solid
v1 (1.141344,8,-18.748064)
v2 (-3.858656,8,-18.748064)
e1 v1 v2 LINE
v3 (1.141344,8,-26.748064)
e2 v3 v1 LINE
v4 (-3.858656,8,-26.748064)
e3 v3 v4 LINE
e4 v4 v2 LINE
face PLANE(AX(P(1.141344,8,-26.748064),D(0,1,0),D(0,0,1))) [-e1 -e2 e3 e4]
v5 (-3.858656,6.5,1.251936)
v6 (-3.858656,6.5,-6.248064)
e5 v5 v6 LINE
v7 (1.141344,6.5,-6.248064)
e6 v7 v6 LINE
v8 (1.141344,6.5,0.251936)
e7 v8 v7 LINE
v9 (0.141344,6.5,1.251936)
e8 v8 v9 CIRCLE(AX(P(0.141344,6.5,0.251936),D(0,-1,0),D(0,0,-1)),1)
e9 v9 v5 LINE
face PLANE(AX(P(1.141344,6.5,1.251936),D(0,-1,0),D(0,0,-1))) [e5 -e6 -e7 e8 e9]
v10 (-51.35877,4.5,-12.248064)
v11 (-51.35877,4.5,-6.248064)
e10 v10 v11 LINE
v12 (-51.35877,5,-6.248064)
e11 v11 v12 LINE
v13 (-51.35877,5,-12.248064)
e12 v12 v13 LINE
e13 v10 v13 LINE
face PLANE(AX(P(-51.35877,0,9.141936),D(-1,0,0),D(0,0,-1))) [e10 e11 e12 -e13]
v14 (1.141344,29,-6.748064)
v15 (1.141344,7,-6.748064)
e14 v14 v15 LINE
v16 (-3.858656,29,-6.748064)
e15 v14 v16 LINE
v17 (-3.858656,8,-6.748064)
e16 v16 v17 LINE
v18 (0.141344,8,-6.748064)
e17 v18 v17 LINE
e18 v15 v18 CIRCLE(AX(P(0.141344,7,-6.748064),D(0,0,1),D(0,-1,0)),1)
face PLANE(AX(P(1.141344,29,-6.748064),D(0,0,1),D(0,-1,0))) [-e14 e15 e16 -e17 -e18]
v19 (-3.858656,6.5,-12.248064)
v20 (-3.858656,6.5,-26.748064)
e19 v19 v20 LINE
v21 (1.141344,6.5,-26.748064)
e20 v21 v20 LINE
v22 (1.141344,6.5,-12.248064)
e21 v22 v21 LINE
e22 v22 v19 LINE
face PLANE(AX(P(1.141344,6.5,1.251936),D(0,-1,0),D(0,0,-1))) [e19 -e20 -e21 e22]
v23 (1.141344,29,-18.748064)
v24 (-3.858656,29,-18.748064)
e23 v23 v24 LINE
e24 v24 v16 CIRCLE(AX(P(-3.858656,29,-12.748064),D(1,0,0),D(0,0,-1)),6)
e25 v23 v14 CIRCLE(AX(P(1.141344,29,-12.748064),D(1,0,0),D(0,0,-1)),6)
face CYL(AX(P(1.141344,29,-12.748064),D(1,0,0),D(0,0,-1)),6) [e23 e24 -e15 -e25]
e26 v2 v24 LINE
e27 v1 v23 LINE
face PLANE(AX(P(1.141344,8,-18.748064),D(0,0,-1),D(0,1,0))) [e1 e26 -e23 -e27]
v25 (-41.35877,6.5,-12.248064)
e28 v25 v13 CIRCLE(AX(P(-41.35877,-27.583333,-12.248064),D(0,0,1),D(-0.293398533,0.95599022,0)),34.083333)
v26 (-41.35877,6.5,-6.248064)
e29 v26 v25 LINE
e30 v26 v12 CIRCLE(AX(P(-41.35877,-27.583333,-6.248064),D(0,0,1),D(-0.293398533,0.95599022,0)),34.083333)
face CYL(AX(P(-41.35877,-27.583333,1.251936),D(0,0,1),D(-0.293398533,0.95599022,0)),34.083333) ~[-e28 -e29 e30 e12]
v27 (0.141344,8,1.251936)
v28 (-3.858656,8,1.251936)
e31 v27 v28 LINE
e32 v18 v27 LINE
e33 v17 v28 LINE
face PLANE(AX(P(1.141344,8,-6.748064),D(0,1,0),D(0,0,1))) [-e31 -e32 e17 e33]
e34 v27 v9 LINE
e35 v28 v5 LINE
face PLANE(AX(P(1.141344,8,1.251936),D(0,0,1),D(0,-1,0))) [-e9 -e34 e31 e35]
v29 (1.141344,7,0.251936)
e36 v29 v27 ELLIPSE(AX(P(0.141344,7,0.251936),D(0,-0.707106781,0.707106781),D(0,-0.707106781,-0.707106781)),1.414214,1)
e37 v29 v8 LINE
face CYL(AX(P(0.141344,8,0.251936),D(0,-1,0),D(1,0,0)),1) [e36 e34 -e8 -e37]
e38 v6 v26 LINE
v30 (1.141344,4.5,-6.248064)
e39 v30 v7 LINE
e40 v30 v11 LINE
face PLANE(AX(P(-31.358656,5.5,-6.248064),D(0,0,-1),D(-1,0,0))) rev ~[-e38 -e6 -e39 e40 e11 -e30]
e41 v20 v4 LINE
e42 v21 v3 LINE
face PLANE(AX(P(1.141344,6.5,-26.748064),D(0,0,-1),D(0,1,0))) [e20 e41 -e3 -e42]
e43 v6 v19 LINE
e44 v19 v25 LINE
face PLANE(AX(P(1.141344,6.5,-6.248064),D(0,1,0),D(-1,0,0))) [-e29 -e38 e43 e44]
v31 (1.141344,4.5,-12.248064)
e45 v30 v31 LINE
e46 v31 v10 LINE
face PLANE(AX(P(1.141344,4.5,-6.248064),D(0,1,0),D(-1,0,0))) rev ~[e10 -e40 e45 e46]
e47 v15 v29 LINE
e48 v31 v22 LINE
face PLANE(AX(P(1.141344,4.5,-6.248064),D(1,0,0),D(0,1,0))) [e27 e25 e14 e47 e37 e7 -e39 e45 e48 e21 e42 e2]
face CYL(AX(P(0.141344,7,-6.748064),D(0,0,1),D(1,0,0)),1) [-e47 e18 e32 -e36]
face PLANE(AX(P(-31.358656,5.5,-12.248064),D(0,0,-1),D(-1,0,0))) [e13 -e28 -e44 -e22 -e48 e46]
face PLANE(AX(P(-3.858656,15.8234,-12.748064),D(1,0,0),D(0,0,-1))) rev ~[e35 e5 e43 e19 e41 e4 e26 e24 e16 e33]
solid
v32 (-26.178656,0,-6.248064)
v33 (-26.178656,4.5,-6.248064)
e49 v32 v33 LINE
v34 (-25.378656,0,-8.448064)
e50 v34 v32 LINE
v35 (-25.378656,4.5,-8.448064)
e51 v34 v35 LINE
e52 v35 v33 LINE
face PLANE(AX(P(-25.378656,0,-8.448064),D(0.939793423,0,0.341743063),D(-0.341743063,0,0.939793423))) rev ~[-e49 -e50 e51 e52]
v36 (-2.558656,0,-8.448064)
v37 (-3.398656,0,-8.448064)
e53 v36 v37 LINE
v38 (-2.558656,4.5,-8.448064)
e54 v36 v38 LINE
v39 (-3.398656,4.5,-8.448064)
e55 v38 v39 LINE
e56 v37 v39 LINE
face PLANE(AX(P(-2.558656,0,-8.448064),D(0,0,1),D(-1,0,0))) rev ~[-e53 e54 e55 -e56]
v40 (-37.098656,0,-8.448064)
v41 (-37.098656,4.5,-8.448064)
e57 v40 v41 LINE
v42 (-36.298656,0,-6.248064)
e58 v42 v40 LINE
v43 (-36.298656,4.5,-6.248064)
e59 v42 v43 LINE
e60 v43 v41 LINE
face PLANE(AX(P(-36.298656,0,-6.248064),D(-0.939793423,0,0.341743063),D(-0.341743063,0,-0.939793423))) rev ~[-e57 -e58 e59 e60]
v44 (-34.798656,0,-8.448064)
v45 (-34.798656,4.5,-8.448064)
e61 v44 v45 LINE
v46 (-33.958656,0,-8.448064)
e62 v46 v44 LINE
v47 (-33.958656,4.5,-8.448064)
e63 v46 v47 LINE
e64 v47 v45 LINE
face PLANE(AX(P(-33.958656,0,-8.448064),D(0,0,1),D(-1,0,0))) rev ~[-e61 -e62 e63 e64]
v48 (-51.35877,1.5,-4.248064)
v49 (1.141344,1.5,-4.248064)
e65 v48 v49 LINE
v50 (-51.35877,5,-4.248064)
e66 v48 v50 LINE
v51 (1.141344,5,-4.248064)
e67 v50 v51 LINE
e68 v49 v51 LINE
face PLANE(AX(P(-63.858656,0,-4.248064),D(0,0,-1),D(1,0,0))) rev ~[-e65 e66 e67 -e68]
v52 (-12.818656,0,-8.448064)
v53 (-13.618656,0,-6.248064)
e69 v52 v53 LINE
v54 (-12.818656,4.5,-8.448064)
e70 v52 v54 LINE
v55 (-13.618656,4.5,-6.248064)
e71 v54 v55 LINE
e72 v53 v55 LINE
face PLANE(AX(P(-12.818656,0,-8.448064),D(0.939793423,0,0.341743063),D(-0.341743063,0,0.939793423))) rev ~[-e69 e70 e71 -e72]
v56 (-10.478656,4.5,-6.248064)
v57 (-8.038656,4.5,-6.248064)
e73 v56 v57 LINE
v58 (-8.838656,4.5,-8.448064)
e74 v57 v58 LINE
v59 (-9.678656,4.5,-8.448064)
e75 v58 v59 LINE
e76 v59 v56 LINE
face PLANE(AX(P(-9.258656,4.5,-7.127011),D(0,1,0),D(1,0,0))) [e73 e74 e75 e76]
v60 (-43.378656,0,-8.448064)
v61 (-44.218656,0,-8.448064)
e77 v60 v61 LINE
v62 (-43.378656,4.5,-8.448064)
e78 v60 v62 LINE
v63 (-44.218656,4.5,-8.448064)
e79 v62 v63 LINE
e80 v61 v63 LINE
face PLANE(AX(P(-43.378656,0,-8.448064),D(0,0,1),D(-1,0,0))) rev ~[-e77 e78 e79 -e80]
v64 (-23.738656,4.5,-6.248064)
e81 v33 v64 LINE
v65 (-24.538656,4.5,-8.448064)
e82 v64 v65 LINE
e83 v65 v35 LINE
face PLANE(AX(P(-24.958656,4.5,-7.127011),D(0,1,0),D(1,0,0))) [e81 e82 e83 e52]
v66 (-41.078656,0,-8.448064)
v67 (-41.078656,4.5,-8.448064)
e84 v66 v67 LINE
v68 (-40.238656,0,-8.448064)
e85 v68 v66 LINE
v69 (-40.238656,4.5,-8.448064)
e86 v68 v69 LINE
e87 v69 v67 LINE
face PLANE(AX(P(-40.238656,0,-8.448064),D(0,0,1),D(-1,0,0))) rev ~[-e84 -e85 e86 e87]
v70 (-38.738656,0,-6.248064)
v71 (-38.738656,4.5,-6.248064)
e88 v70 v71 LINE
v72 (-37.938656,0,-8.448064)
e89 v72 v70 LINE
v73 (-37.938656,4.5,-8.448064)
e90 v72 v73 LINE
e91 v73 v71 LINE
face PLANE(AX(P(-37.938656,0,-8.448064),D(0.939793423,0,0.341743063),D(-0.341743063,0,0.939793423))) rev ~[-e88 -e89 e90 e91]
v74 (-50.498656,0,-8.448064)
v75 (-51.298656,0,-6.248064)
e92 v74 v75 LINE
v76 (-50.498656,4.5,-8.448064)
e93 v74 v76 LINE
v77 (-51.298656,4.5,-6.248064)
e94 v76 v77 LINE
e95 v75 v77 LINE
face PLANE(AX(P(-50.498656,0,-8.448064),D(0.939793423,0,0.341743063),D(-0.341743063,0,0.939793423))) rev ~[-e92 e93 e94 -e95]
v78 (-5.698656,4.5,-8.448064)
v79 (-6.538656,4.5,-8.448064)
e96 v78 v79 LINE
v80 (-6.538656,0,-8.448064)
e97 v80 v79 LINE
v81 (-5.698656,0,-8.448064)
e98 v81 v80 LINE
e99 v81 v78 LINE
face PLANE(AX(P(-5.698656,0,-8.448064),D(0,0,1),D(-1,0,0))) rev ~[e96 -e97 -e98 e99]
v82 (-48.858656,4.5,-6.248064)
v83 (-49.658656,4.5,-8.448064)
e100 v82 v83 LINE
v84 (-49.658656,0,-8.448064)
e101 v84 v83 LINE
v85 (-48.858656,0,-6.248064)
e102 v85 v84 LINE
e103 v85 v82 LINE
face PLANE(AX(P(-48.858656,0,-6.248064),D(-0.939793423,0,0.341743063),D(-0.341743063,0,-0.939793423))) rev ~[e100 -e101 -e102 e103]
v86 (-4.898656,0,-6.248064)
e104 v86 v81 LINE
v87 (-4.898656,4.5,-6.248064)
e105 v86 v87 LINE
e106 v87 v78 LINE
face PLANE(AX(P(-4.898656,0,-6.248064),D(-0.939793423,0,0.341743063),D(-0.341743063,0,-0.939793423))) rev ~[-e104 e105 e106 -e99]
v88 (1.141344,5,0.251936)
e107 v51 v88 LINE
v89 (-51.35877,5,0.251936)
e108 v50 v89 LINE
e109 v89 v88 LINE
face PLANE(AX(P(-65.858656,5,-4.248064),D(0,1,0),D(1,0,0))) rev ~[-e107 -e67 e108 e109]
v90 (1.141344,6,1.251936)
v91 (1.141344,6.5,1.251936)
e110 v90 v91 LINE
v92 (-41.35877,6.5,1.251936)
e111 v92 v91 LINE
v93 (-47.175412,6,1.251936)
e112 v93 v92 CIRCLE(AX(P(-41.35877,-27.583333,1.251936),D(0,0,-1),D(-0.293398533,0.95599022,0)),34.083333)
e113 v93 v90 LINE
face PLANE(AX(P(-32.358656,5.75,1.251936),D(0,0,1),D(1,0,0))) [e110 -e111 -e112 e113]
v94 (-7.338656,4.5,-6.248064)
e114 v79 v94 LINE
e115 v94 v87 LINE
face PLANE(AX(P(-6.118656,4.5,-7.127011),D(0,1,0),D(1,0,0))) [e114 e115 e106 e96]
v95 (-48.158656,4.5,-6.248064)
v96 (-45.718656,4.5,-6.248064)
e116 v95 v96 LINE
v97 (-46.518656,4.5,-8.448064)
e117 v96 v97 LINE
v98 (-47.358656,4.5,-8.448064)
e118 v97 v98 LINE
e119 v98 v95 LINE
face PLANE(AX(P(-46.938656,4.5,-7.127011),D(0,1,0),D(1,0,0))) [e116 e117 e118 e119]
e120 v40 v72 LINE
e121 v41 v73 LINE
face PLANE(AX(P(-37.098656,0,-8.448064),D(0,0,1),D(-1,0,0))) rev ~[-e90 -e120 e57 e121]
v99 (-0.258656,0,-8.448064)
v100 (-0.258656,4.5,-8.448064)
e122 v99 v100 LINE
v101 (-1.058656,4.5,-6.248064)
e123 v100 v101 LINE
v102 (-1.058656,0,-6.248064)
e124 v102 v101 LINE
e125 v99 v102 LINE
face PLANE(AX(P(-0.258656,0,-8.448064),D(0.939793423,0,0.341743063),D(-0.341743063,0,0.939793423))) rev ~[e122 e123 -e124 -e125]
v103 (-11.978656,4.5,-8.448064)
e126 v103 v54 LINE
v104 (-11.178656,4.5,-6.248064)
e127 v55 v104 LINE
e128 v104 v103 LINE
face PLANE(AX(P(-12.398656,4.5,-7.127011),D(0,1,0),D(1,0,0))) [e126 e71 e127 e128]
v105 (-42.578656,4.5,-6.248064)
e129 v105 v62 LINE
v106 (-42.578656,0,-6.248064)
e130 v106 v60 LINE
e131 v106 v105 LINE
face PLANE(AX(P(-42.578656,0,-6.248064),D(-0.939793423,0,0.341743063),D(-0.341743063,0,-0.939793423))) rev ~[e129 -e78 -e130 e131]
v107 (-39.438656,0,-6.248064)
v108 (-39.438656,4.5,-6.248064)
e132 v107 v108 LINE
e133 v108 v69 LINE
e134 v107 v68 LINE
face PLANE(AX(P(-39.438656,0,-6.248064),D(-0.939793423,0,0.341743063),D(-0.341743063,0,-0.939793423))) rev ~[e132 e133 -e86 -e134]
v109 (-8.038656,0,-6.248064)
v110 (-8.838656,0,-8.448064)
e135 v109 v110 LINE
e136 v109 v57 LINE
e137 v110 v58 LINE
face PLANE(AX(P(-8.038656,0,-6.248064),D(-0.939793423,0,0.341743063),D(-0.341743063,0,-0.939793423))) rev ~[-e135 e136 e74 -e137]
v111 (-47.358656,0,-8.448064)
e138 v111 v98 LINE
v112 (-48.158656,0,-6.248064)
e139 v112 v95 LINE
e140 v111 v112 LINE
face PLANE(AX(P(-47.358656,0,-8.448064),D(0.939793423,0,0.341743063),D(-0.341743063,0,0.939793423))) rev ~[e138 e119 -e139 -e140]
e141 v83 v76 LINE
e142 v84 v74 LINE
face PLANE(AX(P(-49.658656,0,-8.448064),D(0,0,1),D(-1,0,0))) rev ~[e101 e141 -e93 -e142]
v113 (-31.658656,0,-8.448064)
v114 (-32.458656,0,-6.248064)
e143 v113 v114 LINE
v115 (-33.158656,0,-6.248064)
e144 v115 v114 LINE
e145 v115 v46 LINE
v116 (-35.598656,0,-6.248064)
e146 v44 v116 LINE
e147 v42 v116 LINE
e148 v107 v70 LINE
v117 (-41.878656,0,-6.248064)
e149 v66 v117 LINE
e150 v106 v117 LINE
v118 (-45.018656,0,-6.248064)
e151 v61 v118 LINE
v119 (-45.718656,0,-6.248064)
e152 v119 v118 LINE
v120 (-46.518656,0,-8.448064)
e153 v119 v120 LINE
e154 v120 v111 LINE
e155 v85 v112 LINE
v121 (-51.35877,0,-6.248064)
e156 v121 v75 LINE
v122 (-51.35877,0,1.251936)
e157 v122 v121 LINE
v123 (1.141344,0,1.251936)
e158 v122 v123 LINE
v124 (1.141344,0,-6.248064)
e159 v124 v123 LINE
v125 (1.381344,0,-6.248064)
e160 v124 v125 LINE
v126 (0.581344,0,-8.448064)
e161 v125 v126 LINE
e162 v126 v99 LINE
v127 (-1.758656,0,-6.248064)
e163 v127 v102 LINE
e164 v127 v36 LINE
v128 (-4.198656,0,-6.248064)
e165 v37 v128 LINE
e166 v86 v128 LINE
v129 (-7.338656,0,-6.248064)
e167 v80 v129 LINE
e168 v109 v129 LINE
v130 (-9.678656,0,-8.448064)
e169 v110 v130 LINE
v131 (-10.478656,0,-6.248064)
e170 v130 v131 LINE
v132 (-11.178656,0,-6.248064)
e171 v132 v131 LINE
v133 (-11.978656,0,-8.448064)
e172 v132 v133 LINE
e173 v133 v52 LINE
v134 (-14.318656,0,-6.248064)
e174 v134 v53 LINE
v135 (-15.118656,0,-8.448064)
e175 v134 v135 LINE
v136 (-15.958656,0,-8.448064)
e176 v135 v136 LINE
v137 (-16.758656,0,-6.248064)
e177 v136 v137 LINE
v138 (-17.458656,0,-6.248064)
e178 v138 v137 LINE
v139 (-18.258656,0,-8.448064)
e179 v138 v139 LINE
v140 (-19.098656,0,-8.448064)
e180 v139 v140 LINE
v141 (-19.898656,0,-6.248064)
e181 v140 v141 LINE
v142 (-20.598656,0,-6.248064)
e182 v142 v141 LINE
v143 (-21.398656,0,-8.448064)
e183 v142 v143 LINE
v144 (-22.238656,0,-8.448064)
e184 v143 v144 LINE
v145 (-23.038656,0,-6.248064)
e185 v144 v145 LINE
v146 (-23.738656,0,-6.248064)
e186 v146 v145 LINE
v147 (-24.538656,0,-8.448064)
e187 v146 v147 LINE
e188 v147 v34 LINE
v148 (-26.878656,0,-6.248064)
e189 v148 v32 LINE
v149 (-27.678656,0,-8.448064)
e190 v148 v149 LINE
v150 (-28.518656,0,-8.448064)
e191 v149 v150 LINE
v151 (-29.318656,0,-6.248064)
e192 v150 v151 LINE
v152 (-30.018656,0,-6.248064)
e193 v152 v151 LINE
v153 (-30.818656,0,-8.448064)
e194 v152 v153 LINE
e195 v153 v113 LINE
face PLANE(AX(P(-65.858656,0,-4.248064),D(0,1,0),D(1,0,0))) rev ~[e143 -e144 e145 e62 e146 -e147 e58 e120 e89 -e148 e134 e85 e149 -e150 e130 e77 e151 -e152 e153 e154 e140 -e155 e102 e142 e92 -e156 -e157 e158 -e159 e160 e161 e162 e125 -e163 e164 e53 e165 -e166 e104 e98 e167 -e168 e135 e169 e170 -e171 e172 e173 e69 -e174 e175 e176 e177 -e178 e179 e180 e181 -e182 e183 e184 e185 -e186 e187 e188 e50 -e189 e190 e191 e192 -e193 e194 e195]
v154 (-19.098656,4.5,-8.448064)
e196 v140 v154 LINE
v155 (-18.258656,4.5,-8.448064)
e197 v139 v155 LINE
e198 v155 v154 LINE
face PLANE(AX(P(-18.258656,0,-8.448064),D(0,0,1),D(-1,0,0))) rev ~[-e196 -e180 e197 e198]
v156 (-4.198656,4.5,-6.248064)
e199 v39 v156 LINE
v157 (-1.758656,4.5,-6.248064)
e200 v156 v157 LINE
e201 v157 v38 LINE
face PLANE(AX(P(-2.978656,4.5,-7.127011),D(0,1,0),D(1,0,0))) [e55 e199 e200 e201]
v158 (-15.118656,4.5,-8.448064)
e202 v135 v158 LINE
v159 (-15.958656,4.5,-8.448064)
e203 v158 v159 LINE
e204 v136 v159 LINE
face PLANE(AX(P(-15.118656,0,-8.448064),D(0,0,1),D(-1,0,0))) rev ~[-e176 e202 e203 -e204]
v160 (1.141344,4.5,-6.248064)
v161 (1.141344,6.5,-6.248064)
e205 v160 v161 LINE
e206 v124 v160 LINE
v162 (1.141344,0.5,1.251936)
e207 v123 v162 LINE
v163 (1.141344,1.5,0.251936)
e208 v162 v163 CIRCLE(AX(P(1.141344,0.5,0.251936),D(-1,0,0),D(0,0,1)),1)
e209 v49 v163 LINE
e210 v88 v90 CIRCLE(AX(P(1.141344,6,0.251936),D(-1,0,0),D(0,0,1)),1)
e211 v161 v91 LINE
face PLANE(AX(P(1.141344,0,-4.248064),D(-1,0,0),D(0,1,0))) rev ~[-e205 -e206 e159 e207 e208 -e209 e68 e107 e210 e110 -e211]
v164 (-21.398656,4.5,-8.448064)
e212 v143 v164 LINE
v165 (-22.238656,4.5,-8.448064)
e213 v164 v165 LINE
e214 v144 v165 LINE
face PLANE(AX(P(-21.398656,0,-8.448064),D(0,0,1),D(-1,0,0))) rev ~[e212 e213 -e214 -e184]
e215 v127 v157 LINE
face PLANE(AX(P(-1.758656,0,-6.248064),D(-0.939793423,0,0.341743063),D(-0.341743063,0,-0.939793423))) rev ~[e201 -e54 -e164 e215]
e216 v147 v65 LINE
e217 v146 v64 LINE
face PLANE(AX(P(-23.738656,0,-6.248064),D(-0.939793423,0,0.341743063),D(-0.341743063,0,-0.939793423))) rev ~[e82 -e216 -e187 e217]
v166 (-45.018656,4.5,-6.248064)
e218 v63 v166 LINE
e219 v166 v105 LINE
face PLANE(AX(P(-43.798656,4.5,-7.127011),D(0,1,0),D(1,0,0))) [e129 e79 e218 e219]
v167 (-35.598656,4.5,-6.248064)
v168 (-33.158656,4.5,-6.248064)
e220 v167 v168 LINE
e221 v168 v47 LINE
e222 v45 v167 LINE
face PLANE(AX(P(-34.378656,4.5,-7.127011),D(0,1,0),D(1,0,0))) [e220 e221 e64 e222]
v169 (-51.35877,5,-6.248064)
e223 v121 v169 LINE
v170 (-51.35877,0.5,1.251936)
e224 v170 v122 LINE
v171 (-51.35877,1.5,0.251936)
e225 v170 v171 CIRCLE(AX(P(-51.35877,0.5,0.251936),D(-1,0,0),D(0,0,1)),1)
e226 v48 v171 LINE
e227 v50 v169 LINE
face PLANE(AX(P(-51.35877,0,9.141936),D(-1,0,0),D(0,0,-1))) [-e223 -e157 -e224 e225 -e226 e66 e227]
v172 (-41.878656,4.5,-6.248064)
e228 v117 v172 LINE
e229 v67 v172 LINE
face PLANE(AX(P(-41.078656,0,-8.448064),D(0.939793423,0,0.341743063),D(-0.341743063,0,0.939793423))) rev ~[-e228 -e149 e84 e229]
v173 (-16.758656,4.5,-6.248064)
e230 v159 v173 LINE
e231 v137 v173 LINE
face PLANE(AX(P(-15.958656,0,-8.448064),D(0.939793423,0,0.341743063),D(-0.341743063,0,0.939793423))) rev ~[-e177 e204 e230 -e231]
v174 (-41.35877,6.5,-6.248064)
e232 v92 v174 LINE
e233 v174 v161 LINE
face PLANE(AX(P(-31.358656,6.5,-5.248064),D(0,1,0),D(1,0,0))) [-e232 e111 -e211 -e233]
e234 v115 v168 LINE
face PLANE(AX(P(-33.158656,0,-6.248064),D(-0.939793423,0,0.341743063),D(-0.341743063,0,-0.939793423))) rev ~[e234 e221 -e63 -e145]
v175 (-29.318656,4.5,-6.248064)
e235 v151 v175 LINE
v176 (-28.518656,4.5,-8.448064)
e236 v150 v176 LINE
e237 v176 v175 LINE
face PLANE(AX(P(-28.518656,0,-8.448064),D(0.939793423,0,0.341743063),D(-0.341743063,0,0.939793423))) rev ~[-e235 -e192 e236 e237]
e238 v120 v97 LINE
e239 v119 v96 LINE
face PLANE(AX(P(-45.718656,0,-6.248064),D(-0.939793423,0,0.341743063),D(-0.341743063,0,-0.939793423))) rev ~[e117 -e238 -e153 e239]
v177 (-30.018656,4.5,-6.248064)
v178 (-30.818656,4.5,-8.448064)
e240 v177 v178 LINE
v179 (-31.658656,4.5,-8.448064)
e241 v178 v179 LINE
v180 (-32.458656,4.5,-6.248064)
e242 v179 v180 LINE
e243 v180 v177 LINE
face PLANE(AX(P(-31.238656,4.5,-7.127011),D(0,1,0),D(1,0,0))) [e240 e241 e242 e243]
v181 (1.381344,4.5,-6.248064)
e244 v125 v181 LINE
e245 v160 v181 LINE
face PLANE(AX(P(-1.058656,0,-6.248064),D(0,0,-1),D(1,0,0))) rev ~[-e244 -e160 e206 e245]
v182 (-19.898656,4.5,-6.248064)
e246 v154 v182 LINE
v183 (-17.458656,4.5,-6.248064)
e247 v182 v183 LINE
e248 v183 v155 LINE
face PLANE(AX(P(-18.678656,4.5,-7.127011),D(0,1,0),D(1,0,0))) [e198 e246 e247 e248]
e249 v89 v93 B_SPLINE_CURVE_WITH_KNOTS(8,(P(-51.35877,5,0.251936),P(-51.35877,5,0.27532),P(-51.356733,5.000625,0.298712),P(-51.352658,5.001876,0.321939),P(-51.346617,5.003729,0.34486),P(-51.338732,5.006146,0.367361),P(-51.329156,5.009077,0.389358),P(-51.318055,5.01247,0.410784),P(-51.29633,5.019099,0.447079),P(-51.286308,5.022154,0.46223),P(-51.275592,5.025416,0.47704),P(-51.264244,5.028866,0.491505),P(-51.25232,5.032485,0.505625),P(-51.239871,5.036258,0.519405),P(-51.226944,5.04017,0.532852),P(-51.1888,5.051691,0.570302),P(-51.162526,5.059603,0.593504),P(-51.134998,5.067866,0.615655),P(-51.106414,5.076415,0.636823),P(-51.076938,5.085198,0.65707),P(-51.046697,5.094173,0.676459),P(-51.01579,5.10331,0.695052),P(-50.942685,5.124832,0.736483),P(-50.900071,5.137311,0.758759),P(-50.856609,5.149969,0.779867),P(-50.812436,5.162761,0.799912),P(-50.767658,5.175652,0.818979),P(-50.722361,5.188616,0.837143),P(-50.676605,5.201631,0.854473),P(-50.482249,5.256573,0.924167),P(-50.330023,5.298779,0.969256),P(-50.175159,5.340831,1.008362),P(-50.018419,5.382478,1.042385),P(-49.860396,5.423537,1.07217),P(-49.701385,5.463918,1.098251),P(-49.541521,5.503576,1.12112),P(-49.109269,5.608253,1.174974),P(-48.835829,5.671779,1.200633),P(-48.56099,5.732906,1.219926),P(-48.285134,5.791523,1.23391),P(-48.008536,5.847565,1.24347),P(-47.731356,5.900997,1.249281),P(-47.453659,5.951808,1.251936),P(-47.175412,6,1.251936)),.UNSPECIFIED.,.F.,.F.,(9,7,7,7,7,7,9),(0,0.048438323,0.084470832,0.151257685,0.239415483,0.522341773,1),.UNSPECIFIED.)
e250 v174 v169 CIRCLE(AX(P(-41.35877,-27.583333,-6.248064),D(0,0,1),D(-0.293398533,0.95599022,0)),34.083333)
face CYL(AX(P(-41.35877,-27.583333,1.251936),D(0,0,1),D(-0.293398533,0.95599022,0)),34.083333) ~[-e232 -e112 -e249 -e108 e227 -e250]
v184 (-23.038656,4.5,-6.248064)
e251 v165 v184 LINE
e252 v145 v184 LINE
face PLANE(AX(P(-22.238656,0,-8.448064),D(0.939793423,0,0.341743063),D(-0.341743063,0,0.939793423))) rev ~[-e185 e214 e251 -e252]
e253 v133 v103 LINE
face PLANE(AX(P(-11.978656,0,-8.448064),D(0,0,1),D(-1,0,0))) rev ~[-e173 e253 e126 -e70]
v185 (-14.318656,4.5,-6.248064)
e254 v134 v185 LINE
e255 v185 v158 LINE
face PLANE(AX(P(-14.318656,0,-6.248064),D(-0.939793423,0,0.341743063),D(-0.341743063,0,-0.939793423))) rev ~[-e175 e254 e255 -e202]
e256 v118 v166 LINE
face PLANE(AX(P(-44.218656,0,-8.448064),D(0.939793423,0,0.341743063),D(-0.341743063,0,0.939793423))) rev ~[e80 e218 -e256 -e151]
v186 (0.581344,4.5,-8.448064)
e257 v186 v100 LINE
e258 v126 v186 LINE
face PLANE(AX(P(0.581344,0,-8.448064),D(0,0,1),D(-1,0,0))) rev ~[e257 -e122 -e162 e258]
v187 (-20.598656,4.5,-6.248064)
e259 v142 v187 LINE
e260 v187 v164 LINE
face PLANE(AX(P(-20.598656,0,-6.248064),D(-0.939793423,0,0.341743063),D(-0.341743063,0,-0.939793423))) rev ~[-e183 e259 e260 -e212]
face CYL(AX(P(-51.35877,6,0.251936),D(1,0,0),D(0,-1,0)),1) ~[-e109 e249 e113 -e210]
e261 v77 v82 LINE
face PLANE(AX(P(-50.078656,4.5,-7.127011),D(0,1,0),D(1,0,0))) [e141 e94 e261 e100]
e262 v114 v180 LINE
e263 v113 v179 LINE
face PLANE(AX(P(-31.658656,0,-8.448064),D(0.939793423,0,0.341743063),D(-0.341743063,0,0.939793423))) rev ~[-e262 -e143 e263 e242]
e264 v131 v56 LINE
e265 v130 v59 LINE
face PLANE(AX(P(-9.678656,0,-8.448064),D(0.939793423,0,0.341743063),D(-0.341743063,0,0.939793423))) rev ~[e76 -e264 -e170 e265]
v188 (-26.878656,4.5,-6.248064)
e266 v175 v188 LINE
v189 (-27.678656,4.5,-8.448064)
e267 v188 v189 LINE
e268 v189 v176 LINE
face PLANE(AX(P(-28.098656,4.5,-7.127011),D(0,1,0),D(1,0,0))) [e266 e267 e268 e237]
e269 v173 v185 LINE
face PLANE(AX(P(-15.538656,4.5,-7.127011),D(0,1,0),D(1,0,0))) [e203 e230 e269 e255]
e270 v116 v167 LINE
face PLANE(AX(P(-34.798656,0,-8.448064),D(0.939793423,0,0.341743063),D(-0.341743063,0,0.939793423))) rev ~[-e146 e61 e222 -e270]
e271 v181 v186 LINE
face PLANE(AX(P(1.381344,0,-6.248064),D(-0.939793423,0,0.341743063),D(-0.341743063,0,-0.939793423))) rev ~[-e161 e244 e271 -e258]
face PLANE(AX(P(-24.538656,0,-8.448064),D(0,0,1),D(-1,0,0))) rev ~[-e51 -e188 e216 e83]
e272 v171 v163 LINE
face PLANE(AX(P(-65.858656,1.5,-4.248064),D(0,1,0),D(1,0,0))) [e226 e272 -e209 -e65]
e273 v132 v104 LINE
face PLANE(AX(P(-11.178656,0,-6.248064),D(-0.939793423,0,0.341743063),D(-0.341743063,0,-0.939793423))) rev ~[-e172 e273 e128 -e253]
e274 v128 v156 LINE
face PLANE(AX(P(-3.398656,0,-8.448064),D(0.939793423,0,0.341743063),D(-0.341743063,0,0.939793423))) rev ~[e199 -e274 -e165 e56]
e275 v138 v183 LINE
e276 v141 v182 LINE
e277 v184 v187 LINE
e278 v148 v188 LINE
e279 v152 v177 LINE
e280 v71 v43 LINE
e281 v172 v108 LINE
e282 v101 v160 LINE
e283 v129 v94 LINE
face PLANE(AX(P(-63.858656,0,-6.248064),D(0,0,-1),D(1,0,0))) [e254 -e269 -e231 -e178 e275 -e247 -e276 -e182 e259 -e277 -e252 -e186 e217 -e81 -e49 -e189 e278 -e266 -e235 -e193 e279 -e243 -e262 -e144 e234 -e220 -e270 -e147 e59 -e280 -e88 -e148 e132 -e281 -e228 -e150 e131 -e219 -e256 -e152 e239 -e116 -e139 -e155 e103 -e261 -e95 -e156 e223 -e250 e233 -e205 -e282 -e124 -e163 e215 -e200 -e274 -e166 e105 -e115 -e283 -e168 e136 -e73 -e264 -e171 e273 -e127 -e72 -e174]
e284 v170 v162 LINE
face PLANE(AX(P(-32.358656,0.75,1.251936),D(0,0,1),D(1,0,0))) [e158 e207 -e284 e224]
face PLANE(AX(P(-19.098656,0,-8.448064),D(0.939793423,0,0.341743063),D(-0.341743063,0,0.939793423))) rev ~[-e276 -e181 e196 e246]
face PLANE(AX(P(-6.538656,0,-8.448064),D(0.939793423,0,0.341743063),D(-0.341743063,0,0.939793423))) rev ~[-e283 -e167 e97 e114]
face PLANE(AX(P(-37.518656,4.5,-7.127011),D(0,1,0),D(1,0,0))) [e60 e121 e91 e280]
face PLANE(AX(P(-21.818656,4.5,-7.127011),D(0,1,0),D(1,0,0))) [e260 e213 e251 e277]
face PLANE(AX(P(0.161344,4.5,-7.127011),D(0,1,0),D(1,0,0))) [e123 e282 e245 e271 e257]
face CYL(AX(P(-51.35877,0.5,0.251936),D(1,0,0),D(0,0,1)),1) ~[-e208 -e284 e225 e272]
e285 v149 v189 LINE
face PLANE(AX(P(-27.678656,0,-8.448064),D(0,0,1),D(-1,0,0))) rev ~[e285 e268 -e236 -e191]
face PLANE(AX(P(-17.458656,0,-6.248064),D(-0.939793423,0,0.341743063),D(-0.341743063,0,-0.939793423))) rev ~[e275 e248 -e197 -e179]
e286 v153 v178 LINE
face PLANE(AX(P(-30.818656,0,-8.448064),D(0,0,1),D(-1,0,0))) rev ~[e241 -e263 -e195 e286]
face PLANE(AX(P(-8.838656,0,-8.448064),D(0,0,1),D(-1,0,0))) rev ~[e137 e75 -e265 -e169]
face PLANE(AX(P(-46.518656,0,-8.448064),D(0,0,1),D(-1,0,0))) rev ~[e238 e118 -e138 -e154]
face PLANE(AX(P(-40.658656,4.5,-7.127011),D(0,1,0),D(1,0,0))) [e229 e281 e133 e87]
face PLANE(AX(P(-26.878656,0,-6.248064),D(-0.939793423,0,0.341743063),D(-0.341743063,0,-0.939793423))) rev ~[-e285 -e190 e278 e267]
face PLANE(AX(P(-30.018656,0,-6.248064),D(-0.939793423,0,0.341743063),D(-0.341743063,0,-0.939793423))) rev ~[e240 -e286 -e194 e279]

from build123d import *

# Parameters (mm, degrees)
SKETCH1_W           = 65
SKETCH1_H           = 2
BOSS_EXTRUDE1_DEPTH = 6.5
BOSS_EXTRUDE2_DEPTH = 4.5
SKETCH5_W           = 67
SKETCH5_H           = 1.5
BOSS_EXTRUDE6_DEPTH = 5.5
BOSS_EXTRUDE7_DEPTH = 5
SKETCH7_W           = 65
SKETCH7_H           = 2
BOSS_EXTRUDE8_DEPTH = 6
SKETCH8_W           = 25.322951889
SKETCH8_H           = 29.09091251
CUT_EXTRUDE1_DEPTH  = 36
CUT_EXTRUDE2_DEPTH  = 29
FILLET5_R           = 1
FILLET7_R           = 1


with BuildPart() as part:
    # Sketch1 → Boss-Extrude1 (new body)
    with BuildSketch(Plane(origin=(0, 0, 0), x_dir=(1, 0, 0), z_dir=(0, 1, 0))):
        with Locations((-31.358656154, 5.24806396)):
            Rectangle(SKETCH1_W, SKETCH1_H)
    extrude(amount=BOSS_EXTRUDE1_DEPTH)

    # Sketch2 → Boss-Extrude2 (add)
    with BuildSketch(Plane(origin=(0, 0, 0), x_dir=(1, 0, 0), z_dir=(0, 1, 0))):
        Polygon((-63.058656154, 8.44806396), (-63.858656154, 6.24806396), (-61.418656154, 6.24806396), (-62.218656154, 8.44806396), align=None)
        Polygon((-59.918656154, 8.44806396), (-60.718656154, 6.24806396), (-58.278656154, 6.24806396), (-59.078656154, 8.44806396), align=None)
        Polygon((-56.778656154, 8.44806396), (-57.578656154, 6.24806396), (-55.138656154, 6.24806396), (-55.938656154, 8.44806396), align=None)
        Polygon((-53.638656154, 8.44806396), (-54.438656154, 6.24806396), (-51.998656154, 6.24806396), (-52.798656154, 8.44806396), align=None)
        Polygon((-50.498656154, 8.44806396), (-51.298656154, 6.24806396), (-48.858656154, 6.24806396), (-49.658656154, 8.44806396), align=None)
        Polygon((-47.358656154, 8.44806396), (-48.158656154, 6.24806396), (-45.718656154, 6.24806396), (-46.518656154, 8.44806396), align=None)
        Polygon((-44.218656154, 8.44806396), (-45.018656154, 6.24806396), (-42.578656154, 6.24806396), (-43.378656154, 8.44806396), align=None)
        Polygon((-41.078656154, 8.44806396), (-41.878656154, 6.24806396), (-39.438656154, 6.24806396), (-40.238656154, 8.44806396), align=None)
        Polygon((-37.938656154, 8.44806396), (-38.738656154, 6.24806396), (-36.298656154, 6.24806396), (-37.098656154, 8.44806396), align=None)
        Polygon((-34.798656154, 8.44806396), (-35.598656154, 6.24806396), (-33.158656154, 6.24806396), (-33.958656154, 8.44806396), align=None)
        Polygon((-31.658656154, 8.44806396), (-32.458656154, 6.24806396), (-30.018656154, 6.24806396), (-30.818656154, 8.44806396), align=None)
        Polygon((-29.318656154, 6.24806396), (-26.878656154, 6.24806396), (-27.678656154, 8.44806396), (-28.518656154, 8.44806396), align=None)
        Polygon((-26.178656154, 6.24806396), (-23.738656154, 6.24806396), (-24.538656154, 8.44806396), (-25.378656154, 8.44806396), align=None)
        Polygon((-23.038656154, 6.24806396), (-20.598656154, 6.24806396), (-21.398656154, 8.44806396), (-22.238656154, 8.44806396), align=None)
        Polygon((-19.898656154, 6.24806396), (-17.458656154, 6.24806396), (-18.258656154, 8.44806396), (-19.098656154, 8.44806396), align=None)
        Polygon((-16.758656154, 6.24806396), (-14.318656154, 6.24806396), (-15.118656154, 8.44806396), (-15.958656154, 8.44806396), align=None)
        Polygon((-13.618656154, 6.24806396), (-11.178656154, 6.24806396), (-11.978656154, 8.44806396), (-12.818656154, 8.44806396), align=None)
        Polygon((-10.478656154, 6.24806396), (-8.038656154, 6.24806396), (-8.838656154, 8.44806396), (-9.678656154, 8.44806396), align=None)
        Polygon((-7.338656154, 6.24806396), (-4.898656154, 6.24806396), (-5.698656154, 8.44806396), (-6.538656154, 8.44806396), align=None)
        Polygon((-4.198656154, 6.24806396), (-1.758656154, 6.24806396), (-2.558656154, 8.44806396), (-3.398656154, 8.44806396), align=None)
        Polygon((-3.398656154, 8.44806396), (-4.198656154, 6.24806396), (-1.758656154, 6.24806396), (-2.558656154, 8.44806396), align=None)
        Polygon((-0.258656154, 8.44806396), (-1.058656154, 6.24806396), (1.141343846, 6.24806396), (1.381343846, 6.24806396), (0.581343846, 8.44806396), align=None)
        Polygon((-6.538656154, 8.44806396), (-7.338656154, 6.24806396), (-4.898656154, 6.24806396), (-5.698656154, 8.44806396), align=None)
        Polygon((-9.678656154, 8.44806396), (-10.478656154, 6.24806396), (-8.038656154, 6.24806396), (-8.838656154, 8.44806396), align=None)
        Polygon((-12.818656154, 8.44806396), (-13.618656154, 6.24806396), (-11.178656154, 6.24806396), (-11.978656154, 8.44806396), align=None)
        Polygon((-15.958656154, 8.44806396), (-16.758656154, 6.24806396), (-14.318656154, 6.24806396), (-15.118656154, 8.44806396), align=None)
        Polygon((-19.098656154, 8.44806396), (-19.898656154, 6.24806396), (-17.458656154, 6.24806396), (-18.258656154, 8.44806396), align=None)
        Polygon((-22.238656154, 8.44806396), (-23.038656154, 6.24806396), (-20.598656154, 6.24806396), (-21.398656154, 8.44806396), align=None)
        Polygon((-25.378656154, 8.44806396), (-26.178656154, 6.24806396), (-23.738656154, 6.24806396), (-24.538656154, 8.44806396), align=None)
        Polygon((-28.518656154, 8.44806396), (-29.318656154, 6.24806396), (-26.878656154, 6.24806396), (-27.678656154, 8.44806396), align=None)
    extrude(amount=BOSS_EXTRUDE2_DEPTH)

    # Sketch5 → Boss-Extrude6 (add)
    with BuildSketch(Plane.XY.offset(-4.24806396)):
        with Locations((-32.358656154, 0.75)):
            Rectangle(SKETCH5_W, SKETCH5_H)
        with Locations((-32.358656154, 5.75)):
            Rectangle(SKETCH5_W, SKETCH5_H)
    extrude(amount=BOSS_EXTRUDE6_DEPTH)


with BuildPart() as body_2:
    # Sketch6 → Boss-Extrude7 (new body)
    with BuildSketch(Plane(origin=(1.141343846, 0, 0), x_dir=(0, 0, -1), z_dir=(1, 0, 0))):
        with BuildLine():
            Line((-1.25193604, 6.5), (6.24806396, 6.5))
            Line((6.24806396, 6.5), (26.74806396, 6.5))
            Line((26.74806396, 6.5), (26.74806396, 8))
            Line((26.74806396, 8), (18.74806396, 8))
            Line((18.74806396, 8), (18.74806396, 29))
            ThreePointArc((18.74806396, 29), (12.74806396, 35), (6.74806396, 29))
            Line((6.74806396, 29), (6.74806396, 8))
            Line((6.74806396, 8), (-1.25193604, 8))
            Line((-1.25193604, 8), (-1.25193604, 6.5))
        make_face()
    extrude(amount=-BOSS_EXTRUDE7_DEPTH)

    # Sketch7 → Boss-Extrude8 (add)
    with BuildSketch(Plane(origin=(0, 0, -6.24806396), x_dir=(-1, 0, 0), z_dir=(0, 0, -1))):
        with Locations((31.358656154, 5.5)):
            Rectangle(SKETCH7_W, SKETCH7_H)
    extrude(amount=BOSS_EXTRUDE8_DEPTH)


with BuildPart() as cut_extrude1_tool:
    # Sketch8 → Cut-Extrude1 (new body, through all)
    with BuildSketch(Plane(origin=(0, 0, 0), x_dir=(-1, 0, 0), z_dir=(0, -1, 0))):
        with Locations((64.020245629, 5.403519831)):
            Rectangle(SKETCH8_W, SKETCH8_H)
    extrude(amount=-CUT_EXTRUDE1_DEPTH)


with BuildPart() as part_1:
    add(part.part)

    # Cut-Extrude1: cut by cut_extrude1_tool
    add(cut_extrude1_tool.part, mode=Mode.SUBTRACT)


with BuildPart() as body_2_1:
    add(body_2.part)

    # Cut-Extrude1: cut by cut_extrude1_tool
    add(cut_extrude1_tool.part, mode=Mode.SUBTRACT)


with BuildPart() as cut_extrude2_tool:
    # Sketch10 → Cut-Extrude2 (new body, through all)
    with BuildSketch(Plane.XY.offset(1.25193604)):
        with BuildLine():
            Line((-51.358769684, 6.5), (-51.358769684, 5))
            ThreePointArc((-51.358769684, 5), (-46.414706788, 6.122914027), (-41.358769684, 6.5))
            Line((-41.358769684, 6.5), (-51.358769684, 6.5))
        make_face()
    extrude(amount=-CUT_EXTRUDE2_DEPTH)


with BuildPart() as part_2:
    add(part_1.part)

    # Cut-Extrude2: cut by cut_extrude2_tool
    add(cut_extrude2_tool.part, mode=Mode.SUBTRACT)

    # Fillet7
    fillet7_edges = [part_2.edges().sort_by_distance(p)[0] for p in [
        (-25.108712919, 5, 1.25193604),
        (-25.108712919, 1.5, 1.25193604),
    ]]
    fillet(fillet7_edges, radius=FILLET7_R)


with BuildPart() as body_2_2:
    add(body_2_1.part)

    # Cut-Extrude2: cut by cut_extrude2_tool
    add(cut_extrude2_tool.part, mode=Mode.SUBTRACT)

    # Fillet5
    fillet5_edges = [body_2_2.edges().sort_by_distance(p)[0] for p in [
        (1.141343846, 7.25, 1.25193604),
        (1.141343846, 8, -2.74806396),
    ]]
    fillet(fillet5_edges, radius=FILLET5_R)


solid = Compound([part_2.part, body_2_2.part])
